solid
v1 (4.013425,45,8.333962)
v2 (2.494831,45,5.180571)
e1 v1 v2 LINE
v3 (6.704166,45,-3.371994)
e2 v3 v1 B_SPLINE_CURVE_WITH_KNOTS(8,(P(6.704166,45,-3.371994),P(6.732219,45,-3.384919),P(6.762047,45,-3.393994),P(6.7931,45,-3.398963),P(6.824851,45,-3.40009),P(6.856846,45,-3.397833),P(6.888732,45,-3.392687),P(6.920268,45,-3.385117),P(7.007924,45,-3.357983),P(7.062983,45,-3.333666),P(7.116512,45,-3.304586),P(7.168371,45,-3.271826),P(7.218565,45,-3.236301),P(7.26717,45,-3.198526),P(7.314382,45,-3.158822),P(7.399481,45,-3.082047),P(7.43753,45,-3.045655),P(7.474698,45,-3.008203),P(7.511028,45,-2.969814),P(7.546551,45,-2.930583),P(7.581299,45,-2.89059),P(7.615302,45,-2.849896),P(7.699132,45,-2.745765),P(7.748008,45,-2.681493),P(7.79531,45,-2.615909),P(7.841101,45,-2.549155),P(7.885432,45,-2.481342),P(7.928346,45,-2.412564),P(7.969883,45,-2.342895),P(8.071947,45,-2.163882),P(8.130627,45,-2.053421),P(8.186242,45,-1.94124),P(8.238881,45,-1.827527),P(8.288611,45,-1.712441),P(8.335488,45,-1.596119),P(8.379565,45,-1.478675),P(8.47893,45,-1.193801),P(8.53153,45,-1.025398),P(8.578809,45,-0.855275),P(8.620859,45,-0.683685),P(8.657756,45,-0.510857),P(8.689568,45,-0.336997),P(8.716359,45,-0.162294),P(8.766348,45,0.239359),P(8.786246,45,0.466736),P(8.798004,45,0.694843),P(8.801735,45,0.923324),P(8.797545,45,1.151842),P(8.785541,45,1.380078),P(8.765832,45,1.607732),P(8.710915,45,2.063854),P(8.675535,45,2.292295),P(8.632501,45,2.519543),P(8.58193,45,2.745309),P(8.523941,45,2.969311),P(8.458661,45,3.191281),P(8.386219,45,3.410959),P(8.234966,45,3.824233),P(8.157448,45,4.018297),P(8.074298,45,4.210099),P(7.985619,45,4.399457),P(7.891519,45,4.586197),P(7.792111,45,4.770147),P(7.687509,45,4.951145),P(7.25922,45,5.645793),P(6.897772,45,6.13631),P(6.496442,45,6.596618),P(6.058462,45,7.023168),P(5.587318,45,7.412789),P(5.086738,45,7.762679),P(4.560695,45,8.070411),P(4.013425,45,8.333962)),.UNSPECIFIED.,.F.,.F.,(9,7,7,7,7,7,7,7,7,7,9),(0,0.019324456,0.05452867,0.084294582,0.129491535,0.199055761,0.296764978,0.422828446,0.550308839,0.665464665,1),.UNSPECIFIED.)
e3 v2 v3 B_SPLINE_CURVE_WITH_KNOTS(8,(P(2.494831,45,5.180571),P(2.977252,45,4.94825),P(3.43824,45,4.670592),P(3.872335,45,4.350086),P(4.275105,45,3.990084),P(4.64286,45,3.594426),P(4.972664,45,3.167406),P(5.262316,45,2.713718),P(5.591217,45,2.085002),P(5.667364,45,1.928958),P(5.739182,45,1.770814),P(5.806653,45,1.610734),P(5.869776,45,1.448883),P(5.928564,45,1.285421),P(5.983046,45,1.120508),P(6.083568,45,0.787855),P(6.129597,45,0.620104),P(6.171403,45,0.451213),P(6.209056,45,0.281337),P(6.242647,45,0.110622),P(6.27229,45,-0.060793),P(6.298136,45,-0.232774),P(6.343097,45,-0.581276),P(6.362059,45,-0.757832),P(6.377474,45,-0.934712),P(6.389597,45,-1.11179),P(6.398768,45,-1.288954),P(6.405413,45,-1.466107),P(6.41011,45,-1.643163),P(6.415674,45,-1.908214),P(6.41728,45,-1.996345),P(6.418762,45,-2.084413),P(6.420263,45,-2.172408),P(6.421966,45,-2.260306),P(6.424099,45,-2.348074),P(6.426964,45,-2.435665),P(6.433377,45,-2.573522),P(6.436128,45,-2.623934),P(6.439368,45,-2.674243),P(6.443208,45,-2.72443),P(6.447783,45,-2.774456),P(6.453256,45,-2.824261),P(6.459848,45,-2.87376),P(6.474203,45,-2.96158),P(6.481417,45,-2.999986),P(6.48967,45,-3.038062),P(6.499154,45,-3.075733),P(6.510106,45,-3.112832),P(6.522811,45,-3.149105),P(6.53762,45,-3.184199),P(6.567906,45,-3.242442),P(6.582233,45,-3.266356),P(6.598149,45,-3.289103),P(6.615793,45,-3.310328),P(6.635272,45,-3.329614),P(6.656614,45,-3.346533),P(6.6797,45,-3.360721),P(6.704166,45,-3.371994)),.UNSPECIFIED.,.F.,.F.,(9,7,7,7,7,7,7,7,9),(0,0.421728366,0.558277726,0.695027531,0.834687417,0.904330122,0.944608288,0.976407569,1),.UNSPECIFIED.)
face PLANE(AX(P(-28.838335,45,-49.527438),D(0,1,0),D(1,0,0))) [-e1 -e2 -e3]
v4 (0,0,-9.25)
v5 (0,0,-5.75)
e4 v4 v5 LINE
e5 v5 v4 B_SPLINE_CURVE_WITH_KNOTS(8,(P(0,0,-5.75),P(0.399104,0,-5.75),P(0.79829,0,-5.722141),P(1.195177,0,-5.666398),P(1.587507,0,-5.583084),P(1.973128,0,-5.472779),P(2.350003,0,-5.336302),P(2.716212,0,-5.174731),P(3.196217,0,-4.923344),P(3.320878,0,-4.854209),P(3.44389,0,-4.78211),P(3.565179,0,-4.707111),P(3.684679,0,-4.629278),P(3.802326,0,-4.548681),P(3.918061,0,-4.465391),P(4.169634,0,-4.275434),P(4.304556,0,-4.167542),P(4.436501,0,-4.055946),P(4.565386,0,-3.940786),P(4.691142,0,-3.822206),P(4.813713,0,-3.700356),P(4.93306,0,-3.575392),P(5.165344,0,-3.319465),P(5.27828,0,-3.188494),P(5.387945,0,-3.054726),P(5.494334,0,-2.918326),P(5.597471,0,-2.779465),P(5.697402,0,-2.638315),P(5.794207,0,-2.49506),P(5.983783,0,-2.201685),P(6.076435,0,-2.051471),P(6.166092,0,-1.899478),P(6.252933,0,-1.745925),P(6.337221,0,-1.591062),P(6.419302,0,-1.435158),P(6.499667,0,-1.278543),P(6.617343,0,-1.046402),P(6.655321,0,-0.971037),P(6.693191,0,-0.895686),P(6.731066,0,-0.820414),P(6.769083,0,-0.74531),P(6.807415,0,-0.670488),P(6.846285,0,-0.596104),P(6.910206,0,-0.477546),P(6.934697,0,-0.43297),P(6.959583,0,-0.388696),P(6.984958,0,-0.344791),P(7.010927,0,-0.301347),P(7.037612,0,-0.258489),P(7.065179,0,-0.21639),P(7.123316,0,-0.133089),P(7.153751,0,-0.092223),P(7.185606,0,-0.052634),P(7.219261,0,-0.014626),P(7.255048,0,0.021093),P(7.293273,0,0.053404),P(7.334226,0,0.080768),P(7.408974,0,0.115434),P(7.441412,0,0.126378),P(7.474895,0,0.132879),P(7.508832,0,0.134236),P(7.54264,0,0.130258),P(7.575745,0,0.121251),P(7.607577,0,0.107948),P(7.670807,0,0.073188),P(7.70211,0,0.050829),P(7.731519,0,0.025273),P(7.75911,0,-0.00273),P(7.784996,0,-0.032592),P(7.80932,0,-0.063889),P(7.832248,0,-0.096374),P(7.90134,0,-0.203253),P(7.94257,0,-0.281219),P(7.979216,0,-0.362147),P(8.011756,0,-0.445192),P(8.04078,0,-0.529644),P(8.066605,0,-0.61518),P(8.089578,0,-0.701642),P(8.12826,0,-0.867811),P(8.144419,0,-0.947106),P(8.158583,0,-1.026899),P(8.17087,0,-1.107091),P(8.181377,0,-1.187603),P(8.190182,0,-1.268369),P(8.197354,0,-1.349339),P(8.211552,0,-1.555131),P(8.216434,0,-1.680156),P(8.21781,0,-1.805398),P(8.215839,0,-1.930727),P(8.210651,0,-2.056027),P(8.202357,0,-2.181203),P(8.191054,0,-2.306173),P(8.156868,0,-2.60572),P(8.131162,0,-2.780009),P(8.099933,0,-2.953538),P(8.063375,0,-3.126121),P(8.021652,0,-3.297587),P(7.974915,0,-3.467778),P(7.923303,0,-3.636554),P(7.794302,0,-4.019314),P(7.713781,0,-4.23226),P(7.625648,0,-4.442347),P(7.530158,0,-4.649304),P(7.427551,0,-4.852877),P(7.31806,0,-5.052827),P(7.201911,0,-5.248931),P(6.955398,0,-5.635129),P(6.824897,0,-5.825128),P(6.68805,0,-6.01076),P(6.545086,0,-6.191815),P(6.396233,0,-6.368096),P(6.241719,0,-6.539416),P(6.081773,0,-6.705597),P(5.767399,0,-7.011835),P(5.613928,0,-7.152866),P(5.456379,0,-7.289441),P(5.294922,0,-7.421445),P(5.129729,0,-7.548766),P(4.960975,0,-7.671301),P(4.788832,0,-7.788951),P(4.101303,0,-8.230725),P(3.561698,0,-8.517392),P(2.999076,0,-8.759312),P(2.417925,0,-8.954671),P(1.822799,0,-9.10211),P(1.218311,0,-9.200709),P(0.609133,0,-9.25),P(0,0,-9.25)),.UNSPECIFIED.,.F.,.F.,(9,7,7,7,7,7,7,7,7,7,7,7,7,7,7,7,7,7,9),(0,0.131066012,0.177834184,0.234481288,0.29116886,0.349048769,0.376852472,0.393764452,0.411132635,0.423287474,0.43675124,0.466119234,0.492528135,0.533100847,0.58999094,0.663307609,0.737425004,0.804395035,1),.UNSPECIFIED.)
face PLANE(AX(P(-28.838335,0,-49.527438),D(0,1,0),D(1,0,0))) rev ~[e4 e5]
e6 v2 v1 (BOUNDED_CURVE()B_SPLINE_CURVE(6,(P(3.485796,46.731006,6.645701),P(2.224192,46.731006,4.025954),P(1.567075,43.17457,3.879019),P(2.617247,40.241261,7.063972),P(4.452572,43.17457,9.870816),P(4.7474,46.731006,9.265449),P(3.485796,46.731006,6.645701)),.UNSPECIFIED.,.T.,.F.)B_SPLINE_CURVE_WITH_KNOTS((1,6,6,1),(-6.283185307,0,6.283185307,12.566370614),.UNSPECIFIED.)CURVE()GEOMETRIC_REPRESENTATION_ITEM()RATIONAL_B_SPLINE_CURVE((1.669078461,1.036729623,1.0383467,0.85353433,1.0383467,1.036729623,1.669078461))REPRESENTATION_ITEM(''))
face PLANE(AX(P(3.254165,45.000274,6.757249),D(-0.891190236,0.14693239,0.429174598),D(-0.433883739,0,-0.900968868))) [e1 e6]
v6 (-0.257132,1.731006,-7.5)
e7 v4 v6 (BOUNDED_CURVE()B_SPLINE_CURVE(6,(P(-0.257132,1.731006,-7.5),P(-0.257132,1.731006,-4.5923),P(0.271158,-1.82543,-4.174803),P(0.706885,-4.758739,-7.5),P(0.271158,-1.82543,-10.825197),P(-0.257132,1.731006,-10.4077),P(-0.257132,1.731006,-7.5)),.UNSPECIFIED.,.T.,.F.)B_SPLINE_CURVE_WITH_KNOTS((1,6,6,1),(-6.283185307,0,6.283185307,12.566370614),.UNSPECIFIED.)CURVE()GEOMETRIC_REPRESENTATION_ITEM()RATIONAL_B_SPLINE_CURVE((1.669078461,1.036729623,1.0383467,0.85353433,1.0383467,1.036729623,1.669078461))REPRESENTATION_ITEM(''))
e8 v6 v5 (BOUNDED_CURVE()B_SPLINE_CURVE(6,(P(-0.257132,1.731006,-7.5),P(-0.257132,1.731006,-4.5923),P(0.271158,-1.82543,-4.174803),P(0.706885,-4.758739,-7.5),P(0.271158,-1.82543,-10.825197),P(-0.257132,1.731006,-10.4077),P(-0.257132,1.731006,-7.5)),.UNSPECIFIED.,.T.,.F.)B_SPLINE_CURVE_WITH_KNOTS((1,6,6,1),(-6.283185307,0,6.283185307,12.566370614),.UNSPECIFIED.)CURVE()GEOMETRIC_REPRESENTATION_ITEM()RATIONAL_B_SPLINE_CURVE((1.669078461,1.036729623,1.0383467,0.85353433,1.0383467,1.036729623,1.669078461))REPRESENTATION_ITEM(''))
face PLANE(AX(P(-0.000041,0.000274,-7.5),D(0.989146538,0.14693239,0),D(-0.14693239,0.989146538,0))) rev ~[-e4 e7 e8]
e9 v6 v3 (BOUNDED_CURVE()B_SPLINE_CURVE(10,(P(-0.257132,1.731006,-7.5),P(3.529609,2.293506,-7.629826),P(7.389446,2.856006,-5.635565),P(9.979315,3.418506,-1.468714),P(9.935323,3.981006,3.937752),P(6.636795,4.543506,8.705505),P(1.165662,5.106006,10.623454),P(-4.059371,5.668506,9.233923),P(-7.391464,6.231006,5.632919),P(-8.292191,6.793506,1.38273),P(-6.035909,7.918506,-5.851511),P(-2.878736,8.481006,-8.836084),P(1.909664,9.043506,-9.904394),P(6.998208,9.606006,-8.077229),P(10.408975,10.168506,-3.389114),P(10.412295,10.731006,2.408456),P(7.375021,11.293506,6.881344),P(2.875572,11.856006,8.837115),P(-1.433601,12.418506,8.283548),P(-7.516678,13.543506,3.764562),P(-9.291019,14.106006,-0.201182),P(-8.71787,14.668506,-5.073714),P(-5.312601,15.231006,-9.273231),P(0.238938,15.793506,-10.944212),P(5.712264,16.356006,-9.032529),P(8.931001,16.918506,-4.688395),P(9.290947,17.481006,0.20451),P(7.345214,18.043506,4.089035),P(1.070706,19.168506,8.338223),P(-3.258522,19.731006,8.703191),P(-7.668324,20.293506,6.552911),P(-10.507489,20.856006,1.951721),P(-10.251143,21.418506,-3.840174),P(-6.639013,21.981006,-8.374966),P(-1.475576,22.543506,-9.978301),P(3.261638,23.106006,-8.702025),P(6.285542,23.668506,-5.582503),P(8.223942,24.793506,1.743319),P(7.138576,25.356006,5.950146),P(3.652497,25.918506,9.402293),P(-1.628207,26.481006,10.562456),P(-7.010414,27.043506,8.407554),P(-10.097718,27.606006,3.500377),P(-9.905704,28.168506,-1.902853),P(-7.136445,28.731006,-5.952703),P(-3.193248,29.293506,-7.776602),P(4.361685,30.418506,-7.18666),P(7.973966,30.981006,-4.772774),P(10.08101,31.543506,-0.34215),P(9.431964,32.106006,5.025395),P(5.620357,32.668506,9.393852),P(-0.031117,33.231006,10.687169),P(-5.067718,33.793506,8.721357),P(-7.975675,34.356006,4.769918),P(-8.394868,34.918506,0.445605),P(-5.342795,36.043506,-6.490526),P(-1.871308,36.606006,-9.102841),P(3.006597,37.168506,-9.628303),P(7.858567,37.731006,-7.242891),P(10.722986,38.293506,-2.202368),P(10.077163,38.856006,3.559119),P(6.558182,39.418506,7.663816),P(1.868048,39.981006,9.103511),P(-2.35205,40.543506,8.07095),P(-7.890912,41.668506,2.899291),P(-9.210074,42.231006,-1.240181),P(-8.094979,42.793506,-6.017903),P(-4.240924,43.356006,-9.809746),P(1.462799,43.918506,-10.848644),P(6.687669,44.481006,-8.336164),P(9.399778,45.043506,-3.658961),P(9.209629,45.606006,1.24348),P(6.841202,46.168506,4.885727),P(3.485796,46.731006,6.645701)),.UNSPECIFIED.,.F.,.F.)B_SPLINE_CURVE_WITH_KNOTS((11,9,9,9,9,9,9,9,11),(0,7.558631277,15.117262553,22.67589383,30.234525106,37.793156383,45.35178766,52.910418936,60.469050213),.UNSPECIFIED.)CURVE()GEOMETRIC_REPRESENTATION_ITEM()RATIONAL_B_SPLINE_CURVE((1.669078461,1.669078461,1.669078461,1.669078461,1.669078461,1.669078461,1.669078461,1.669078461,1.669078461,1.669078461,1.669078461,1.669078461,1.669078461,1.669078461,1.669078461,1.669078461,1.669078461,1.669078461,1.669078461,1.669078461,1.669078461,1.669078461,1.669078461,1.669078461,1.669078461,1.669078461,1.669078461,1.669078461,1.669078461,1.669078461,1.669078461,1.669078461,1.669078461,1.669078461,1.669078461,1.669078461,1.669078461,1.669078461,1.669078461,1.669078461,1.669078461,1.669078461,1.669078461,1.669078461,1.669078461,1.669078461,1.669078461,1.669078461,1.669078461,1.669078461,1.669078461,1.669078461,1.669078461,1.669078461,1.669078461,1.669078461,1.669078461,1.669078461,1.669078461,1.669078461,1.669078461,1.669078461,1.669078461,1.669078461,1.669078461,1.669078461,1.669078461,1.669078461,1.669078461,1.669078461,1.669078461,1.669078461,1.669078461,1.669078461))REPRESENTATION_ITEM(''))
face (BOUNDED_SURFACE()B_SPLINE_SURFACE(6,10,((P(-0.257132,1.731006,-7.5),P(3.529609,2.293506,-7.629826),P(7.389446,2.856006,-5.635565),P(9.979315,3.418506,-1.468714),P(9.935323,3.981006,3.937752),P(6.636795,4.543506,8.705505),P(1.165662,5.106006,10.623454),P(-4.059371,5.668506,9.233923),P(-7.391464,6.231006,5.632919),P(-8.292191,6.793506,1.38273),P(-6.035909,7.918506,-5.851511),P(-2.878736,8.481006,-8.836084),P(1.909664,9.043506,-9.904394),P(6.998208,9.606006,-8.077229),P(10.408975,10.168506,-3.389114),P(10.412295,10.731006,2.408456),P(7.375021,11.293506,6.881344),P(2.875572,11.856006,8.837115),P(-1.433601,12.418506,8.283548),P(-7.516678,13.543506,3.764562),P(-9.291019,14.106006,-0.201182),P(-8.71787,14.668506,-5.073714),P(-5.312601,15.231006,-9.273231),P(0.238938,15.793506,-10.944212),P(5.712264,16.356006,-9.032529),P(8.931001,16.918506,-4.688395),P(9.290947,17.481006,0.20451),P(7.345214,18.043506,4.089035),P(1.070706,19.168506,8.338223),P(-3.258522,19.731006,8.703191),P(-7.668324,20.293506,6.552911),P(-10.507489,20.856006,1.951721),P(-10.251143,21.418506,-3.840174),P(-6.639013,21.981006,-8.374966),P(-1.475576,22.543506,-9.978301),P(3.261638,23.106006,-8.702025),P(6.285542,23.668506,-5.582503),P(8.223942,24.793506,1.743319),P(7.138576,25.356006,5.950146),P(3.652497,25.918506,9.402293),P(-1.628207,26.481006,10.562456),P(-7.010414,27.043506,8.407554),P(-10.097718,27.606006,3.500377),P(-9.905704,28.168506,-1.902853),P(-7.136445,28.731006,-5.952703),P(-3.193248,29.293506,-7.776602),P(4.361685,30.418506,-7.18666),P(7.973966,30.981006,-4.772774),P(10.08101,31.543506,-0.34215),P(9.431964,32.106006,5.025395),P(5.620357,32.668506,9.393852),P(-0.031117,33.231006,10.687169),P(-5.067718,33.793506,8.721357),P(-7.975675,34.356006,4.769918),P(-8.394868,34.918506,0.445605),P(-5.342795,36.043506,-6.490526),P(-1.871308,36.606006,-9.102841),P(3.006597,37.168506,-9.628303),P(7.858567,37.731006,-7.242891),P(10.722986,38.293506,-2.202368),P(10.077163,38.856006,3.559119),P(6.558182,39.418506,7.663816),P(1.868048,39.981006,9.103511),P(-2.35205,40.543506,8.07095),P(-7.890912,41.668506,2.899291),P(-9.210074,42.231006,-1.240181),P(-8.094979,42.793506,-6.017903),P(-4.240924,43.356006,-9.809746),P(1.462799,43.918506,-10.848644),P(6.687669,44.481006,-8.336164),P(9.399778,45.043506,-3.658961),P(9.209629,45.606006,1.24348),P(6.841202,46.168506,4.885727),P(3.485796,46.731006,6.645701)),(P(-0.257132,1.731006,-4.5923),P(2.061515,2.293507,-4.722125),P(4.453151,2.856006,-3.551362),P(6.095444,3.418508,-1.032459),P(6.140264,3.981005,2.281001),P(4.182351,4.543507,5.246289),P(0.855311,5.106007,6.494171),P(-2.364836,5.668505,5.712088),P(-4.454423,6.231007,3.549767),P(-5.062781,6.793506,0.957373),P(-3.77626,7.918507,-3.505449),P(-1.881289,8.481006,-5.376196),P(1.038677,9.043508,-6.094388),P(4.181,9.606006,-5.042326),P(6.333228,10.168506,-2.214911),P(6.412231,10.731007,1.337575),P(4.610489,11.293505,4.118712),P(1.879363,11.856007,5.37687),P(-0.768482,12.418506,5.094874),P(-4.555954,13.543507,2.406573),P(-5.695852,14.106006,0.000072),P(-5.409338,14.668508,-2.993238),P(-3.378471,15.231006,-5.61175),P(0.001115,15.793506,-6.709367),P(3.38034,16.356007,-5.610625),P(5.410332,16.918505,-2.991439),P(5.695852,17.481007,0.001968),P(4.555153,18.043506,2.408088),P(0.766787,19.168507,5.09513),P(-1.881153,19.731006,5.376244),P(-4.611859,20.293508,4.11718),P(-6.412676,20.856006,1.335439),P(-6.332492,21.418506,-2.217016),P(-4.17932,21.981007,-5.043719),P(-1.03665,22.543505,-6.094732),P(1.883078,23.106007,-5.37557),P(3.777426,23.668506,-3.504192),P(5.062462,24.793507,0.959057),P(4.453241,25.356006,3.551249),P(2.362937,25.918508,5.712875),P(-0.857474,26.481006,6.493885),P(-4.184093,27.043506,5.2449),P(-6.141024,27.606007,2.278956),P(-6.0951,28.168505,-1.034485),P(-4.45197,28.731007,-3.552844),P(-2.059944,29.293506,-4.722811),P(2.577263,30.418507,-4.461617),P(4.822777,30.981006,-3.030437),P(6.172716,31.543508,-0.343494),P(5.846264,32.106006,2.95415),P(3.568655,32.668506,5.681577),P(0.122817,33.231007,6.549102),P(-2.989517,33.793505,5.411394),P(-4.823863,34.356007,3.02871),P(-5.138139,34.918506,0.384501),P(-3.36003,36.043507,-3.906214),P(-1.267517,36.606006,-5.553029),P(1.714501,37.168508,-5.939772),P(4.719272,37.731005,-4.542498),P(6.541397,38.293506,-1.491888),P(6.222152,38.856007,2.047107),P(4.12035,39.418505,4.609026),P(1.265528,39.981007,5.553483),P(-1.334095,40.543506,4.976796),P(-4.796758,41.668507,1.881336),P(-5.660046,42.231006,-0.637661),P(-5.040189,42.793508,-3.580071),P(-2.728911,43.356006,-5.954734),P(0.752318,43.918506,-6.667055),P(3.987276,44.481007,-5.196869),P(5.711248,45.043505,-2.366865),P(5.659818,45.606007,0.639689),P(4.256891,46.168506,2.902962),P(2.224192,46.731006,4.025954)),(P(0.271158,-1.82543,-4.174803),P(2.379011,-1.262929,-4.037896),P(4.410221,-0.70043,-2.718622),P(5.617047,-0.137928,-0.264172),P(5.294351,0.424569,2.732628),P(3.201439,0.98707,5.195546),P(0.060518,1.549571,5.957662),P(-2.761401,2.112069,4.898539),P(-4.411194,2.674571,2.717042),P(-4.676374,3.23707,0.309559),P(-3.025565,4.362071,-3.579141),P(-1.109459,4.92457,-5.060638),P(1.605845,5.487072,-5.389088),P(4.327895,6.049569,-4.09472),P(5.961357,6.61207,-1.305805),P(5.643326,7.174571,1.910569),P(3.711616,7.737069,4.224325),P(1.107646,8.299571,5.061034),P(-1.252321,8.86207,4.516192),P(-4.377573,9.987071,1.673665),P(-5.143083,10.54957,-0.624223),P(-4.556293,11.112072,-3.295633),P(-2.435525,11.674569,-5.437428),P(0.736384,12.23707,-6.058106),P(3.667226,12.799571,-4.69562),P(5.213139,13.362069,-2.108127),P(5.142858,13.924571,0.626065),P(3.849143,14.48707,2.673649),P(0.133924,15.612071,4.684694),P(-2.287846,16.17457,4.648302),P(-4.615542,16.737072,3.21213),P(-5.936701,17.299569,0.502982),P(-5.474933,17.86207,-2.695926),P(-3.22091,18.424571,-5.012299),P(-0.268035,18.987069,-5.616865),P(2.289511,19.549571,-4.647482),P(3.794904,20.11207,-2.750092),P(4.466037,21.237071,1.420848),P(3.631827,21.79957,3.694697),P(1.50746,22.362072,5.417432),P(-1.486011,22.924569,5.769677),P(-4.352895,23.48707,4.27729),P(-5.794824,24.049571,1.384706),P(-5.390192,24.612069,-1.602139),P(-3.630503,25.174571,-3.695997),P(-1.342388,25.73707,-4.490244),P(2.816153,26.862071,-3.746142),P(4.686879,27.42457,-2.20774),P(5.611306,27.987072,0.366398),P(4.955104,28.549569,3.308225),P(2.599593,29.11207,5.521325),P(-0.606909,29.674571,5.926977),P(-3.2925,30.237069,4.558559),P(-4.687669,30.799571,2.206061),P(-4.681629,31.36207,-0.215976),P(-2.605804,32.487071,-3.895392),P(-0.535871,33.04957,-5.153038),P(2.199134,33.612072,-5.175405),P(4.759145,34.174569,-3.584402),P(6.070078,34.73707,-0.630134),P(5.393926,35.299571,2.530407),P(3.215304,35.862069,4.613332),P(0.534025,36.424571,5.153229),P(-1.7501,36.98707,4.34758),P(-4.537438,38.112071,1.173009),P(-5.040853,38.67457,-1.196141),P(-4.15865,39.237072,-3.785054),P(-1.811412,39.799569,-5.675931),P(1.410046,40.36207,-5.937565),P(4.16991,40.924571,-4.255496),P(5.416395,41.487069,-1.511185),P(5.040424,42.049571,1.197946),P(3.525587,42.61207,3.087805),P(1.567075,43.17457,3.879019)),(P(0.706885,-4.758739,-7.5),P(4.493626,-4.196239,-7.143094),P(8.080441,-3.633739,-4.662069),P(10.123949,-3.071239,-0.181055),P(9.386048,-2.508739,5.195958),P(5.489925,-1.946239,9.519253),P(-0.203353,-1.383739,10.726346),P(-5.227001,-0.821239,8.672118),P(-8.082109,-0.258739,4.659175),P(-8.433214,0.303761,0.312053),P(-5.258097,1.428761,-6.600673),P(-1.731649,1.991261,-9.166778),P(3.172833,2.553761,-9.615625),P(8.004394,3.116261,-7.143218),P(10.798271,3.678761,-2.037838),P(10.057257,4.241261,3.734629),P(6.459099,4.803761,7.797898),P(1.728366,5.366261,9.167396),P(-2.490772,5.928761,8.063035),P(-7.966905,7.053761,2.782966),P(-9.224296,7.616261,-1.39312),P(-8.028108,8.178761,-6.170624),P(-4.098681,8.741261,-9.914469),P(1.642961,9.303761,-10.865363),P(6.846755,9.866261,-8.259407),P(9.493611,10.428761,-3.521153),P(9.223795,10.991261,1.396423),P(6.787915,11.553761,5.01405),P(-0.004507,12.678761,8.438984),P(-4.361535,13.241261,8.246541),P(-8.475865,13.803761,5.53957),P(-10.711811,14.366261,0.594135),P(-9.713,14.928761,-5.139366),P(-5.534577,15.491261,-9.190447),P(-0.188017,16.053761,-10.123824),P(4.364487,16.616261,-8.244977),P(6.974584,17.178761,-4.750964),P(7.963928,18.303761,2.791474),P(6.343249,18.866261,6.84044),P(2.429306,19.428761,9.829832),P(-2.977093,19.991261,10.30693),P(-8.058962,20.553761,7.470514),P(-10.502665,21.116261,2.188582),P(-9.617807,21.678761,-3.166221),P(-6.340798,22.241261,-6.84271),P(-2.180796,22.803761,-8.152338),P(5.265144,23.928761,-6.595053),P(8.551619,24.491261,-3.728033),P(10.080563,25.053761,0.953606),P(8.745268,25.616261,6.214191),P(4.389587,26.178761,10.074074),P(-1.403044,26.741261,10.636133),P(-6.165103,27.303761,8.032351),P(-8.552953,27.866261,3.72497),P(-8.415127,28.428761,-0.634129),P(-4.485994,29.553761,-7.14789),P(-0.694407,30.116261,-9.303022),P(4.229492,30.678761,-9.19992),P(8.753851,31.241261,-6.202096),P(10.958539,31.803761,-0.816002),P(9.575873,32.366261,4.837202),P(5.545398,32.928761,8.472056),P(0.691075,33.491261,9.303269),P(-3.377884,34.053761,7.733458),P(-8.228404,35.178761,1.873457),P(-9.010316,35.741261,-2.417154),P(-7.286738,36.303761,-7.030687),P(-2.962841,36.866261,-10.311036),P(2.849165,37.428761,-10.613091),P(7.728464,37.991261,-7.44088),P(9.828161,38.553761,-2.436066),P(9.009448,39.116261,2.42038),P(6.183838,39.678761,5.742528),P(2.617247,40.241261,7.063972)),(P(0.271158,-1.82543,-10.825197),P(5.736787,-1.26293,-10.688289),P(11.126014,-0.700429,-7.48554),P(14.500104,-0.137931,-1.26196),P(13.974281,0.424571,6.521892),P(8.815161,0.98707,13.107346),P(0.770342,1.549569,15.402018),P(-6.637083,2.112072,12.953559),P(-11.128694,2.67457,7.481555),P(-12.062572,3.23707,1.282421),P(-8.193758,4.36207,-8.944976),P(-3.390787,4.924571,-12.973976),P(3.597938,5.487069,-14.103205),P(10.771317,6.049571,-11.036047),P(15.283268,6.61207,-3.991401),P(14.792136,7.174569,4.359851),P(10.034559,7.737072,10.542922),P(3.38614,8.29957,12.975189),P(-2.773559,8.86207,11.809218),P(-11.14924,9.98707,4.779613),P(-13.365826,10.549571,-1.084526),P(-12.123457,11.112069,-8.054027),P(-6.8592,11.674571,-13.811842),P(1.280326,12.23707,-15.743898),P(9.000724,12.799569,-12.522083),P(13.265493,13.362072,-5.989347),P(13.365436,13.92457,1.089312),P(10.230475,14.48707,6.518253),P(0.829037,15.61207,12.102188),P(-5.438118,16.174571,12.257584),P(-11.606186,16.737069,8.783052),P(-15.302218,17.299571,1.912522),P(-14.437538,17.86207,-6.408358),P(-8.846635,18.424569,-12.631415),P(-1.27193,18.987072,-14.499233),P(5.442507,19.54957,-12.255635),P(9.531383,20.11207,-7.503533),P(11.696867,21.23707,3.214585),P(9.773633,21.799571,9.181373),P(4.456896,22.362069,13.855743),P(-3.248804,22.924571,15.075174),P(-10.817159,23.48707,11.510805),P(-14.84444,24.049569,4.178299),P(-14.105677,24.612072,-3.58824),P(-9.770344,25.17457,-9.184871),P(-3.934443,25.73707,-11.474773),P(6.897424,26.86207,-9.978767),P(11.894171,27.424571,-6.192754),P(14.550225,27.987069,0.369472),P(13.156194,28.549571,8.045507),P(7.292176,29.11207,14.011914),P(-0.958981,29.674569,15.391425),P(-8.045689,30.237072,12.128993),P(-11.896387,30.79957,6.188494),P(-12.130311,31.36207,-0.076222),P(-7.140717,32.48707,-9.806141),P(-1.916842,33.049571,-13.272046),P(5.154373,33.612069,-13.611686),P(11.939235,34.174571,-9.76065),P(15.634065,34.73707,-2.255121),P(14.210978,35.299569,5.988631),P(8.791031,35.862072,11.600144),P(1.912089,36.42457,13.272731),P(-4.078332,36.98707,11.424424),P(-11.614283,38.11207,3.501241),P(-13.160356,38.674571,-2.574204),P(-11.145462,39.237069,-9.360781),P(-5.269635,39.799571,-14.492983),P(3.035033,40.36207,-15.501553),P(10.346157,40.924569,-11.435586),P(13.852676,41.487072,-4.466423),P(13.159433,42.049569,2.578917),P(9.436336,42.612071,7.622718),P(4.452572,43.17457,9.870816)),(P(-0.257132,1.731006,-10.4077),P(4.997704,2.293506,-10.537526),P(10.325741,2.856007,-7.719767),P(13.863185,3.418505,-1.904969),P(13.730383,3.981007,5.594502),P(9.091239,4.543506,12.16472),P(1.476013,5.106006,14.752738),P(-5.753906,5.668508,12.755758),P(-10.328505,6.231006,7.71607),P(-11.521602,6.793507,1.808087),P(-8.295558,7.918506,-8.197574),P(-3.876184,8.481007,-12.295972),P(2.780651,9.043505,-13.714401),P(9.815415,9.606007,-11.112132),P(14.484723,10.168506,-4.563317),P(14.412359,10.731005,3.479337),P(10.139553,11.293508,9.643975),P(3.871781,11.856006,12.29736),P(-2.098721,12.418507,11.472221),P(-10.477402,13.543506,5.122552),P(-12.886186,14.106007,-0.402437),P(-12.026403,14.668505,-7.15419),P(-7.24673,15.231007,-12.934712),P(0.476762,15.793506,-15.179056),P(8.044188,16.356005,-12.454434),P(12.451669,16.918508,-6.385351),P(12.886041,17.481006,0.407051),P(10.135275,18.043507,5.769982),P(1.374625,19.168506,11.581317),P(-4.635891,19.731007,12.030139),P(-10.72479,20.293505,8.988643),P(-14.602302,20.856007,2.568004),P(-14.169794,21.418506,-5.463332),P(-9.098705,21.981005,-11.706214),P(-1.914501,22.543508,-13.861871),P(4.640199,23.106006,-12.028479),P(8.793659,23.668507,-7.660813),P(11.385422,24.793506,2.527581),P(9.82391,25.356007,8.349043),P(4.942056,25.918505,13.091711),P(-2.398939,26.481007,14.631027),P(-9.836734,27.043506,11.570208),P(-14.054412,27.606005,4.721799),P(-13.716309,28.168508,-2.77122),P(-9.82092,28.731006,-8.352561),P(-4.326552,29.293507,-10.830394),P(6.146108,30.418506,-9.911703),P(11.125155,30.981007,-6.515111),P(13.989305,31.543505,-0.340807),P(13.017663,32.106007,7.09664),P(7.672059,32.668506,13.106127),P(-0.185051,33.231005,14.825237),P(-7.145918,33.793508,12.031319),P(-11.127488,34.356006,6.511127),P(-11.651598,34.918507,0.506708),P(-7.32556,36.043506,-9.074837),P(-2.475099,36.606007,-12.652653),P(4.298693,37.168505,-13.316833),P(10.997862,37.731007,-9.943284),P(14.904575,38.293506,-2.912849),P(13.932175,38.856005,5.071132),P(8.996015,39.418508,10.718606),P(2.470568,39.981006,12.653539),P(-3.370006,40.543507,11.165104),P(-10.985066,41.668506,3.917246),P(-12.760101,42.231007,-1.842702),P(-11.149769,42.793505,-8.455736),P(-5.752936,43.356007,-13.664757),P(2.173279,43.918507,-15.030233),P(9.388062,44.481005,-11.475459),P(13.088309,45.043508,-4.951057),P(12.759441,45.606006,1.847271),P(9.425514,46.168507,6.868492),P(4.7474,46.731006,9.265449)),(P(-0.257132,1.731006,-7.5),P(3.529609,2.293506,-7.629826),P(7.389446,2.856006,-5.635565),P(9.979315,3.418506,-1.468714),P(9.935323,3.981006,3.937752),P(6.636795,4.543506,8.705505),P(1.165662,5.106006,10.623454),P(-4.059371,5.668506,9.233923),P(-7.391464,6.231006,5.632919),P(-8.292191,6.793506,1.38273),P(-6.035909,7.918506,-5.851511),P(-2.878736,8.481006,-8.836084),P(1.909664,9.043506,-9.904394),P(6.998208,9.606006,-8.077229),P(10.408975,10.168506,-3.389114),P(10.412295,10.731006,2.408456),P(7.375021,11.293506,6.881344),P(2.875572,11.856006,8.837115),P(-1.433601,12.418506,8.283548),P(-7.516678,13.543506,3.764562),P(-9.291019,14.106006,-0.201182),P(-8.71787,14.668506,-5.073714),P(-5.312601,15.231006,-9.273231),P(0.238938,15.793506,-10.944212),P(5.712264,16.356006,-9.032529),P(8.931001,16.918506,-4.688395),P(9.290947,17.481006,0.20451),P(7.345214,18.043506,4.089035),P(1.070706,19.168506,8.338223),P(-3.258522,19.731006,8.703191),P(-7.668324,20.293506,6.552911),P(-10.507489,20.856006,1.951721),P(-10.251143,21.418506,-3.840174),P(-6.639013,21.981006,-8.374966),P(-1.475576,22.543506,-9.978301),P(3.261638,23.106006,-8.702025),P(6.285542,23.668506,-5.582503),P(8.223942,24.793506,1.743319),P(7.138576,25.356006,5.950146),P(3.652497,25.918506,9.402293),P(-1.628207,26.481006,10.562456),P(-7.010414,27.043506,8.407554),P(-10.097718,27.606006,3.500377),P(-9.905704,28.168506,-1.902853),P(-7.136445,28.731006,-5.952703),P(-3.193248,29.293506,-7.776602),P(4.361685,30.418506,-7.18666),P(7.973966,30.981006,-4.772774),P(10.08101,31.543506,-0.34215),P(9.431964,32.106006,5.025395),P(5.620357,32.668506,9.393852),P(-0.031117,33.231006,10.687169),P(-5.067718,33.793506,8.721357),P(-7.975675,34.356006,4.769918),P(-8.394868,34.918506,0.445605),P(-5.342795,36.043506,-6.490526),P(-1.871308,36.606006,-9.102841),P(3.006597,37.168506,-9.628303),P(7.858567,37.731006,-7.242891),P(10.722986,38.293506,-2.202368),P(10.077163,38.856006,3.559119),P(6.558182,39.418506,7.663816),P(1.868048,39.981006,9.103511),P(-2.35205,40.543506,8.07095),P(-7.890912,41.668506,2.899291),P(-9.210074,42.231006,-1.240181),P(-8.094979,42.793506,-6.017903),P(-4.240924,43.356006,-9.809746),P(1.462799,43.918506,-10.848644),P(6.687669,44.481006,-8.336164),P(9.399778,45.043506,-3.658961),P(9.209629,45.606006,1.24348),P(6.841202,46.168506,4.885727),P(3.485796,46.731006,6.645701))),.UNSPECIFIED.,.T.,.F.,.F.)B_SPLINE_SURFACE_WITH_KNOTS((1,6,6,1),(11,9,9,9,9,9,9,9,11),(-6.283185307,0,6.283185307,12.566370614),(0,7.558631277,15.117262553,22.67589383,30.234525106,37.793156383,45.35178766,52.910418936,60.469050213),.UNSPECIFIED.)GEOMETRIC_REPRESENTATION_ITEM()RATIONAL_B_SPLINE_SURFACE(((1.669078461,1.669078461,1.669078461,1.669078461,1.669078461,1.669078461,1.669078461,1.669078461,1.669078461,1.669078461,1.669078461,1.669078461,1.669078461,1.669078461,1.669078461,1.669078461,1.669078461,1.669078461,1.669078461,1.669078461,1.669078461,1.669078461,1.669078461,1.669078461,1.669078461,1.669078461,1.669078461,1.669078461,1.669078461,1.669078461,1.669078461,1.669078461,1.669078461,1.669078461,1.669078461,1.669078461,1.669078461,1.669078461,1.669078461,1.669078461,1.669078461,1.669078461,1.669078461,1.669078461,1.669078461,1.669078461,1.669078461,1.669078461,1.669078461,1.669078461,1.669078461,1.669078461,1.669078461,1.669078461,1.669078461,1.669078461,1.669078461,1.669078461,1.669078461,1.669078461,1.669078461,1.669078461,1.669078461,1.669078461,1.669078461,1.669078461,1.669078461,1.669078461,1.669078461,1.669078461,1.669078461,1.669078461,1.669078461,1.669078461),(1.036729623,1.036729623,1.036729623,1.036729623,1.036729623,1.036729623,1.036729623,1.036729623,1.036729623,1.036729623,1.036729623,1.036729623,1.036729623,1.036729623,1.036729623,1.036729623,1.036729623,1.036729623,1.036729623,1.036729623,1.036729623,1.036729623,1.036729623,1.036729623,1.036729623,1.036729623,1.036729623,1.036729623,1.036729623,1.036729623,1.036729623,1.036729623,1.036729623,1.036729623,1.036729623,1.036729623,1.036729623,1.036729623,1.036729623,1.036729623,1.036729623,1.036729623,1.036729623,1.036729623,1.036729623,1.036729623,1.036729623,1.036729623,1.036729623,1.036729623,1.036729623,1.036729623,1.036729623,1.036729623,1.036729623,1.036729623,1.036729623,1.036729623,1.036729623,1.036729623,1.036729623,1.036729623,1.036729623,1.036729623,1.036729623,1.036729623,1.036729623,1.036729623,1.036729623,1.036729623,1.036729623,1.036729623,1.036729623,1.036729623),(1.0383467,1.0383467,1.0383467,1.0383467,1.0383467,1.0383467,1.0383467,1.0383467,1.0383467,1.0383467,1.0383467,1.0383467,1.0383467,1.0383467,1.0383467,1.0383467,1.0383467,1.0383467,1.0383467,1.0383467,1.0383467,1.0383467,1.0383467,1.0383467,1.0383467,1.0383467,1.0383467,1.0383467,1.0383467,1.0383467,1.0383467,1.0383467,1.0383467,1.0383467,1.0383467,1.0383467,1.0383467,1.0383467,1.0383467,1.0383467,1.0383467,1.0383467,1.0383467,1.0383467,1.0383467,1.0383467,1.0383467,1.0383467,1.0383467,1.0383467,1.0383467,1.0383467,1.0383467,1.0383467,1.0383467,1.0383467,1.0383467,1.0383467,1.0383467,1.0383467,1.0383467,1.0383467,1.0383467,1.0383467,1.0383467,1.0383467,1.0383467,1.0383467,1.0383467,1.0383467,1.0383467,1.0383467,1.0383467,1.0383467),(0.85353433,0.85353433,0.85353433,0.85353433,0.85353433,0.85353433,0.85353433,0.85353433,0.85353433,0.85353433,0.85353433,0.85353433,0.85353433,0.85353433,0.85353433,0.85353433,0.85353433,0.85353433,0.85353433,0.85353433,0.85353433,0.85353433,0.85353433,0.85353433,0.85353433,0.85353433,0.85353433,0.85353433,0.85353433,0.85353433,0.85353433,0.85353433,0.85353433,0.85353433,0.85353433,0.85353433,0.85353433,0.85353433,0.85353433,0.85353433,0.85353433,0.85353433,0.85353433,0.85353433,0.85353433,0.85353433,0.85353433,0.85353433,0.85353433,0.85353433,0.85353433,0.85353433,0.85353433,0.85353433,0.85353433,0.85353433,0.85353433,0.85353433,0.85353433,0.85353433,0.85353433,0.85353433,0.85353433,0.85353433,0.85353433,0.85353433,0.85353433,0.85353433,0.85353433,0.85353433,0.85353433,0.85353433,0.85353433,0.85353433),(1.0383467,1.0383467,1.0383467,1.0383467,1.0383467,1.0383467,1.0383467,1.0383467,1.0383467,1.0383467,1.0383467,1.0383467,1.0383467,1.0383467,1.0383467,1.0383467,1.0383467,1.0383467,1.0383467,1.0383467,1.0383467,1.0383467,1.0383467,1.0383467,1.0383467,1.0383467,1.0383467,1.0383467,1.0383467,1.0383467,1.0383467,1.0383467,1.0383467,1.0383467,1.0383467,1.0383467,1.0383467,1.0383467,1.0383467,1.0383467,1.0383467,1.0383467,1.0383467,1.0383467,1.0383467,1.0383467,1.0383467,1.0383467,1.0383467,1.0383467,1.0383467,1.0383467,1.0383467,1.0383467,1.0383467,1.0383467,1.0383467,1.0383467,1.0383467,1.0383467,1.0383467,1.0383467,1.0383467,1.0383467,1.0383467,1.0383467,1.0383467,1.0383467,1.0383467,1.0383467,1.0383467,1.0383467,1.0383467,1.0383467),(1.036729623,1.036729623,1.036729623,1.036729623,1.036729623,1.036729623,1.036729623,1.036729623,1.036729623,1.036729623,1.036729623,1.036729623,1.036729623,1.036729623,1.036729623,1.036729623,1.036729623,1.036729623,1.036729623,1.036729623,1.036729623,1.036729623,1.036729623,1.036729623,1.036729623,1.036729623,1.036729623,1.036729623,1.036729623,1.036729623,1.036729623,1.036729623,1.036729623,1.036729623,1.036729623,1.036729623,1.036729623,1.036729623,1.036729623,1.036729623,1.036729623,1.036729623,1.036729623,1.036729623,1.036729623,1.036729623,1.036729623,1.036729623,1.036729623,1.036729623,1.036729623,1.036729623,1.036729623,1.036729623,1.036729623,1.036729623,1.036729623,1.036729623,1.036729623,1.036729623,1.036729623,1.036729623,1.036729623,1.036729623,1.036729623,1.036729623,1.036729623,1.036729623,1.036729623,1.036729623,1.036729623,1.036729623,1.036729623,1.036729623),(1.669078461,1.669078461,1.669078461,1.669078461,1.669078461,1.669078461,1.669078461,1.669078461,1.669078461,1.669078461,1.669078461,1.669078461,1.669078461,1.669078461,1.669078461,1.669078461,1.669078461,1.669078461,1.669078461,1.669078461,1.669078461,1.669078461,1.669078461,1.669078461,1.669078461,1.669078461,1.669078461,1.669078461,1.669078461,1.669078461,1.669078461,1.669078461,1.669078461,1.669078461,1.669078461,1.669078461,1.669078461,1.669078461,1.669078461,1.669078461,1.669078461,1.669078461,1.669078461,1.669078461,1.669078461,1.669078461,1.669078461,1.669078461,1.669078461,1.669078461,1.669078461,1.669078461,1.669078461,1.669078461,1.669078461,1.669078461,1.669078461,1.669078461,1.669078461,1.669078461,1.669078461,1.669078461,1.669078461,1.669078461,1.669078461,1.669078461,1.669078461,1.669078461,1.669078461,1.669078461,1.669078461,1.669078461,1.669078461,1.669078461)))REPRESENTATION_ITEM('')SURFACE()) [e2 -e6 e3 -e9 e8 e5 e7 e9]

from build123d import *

# Parameters (mm, degrees)
SWEEP_5_PITCH            = 7
SWEEP_5_HEIGHT           = 45
SWEEP_5_RADIUS           = 7.5
SWEEP_5_START_ANGLE      = -180
SWEEP_5_PROFILE_R        = 1.75
CUT_EXTRUDE_2_DEPTH      = 49.527438473
CUT_EXTRUDE_2_DEPTH_BACK = 49.527438473
SKETCH_89_W              = 69.978044934
SKETCH_89_H              = 62.275198725
SKETCH_89_W_2            = 46.999315539
SKETCH_89_H_2            = 45


with BuildPart() as part:
    # По траектории5: sweep along a helix
    with BuildLine() as sweep_5_path:
        add(Helix(SWEEP_5_PITCH, SWEEP_5_HEIGHT, SWEEP_5_RADIUS, center=(0, 0, 0), direction=(0, 1, 0), lefthand=True, mode=Mode.PRIVATE).rotate(Axis((0, 0, 0), (0, 1, 0)), SWEEP_5_START_ANGLE))
    # По траектории5 profile (on start of the path) → По траектории5 (sweep)
    with BuildSketch(Plane(origin=(0, 0, -7.5), x_dir=(-0.14693239016529505, 0.9891465375364328, 0), z_dir=(0.9891465375364328, 0.14693239016529505, 5.355045365340524e-13))):
        Circle(SWEEP_5_PROFILE_R)
    sweep(path=sweep_5_path.line, is_frenet=True)

    # Эскиз89 → Вырез-Вытянуть2 (cut, two sides: drawn at the far end of the back side and taken through both)
    with BuildSketch(Plane.XY.offset(-CUT_EXTRUDE_2_DEPTH_BACK)):
        with Locations((-2.820856745, 23.891235002)):
            Rectangle(SKETCH_89_W, SKETCH_89_H)
        with Locations((-5.338677221, 22.5)):
            Rectangle(SKETCH_89_W_2, SKETCH_89_H_2, mode=Mode.SUBTRACT)
    extrude(amount=CUT_EXTRUDE_2_DEPTH + CUT_EXTRUDE_2_DEPTH_BACK, mode=Mode.SUBTRACT)


solid = part.part
